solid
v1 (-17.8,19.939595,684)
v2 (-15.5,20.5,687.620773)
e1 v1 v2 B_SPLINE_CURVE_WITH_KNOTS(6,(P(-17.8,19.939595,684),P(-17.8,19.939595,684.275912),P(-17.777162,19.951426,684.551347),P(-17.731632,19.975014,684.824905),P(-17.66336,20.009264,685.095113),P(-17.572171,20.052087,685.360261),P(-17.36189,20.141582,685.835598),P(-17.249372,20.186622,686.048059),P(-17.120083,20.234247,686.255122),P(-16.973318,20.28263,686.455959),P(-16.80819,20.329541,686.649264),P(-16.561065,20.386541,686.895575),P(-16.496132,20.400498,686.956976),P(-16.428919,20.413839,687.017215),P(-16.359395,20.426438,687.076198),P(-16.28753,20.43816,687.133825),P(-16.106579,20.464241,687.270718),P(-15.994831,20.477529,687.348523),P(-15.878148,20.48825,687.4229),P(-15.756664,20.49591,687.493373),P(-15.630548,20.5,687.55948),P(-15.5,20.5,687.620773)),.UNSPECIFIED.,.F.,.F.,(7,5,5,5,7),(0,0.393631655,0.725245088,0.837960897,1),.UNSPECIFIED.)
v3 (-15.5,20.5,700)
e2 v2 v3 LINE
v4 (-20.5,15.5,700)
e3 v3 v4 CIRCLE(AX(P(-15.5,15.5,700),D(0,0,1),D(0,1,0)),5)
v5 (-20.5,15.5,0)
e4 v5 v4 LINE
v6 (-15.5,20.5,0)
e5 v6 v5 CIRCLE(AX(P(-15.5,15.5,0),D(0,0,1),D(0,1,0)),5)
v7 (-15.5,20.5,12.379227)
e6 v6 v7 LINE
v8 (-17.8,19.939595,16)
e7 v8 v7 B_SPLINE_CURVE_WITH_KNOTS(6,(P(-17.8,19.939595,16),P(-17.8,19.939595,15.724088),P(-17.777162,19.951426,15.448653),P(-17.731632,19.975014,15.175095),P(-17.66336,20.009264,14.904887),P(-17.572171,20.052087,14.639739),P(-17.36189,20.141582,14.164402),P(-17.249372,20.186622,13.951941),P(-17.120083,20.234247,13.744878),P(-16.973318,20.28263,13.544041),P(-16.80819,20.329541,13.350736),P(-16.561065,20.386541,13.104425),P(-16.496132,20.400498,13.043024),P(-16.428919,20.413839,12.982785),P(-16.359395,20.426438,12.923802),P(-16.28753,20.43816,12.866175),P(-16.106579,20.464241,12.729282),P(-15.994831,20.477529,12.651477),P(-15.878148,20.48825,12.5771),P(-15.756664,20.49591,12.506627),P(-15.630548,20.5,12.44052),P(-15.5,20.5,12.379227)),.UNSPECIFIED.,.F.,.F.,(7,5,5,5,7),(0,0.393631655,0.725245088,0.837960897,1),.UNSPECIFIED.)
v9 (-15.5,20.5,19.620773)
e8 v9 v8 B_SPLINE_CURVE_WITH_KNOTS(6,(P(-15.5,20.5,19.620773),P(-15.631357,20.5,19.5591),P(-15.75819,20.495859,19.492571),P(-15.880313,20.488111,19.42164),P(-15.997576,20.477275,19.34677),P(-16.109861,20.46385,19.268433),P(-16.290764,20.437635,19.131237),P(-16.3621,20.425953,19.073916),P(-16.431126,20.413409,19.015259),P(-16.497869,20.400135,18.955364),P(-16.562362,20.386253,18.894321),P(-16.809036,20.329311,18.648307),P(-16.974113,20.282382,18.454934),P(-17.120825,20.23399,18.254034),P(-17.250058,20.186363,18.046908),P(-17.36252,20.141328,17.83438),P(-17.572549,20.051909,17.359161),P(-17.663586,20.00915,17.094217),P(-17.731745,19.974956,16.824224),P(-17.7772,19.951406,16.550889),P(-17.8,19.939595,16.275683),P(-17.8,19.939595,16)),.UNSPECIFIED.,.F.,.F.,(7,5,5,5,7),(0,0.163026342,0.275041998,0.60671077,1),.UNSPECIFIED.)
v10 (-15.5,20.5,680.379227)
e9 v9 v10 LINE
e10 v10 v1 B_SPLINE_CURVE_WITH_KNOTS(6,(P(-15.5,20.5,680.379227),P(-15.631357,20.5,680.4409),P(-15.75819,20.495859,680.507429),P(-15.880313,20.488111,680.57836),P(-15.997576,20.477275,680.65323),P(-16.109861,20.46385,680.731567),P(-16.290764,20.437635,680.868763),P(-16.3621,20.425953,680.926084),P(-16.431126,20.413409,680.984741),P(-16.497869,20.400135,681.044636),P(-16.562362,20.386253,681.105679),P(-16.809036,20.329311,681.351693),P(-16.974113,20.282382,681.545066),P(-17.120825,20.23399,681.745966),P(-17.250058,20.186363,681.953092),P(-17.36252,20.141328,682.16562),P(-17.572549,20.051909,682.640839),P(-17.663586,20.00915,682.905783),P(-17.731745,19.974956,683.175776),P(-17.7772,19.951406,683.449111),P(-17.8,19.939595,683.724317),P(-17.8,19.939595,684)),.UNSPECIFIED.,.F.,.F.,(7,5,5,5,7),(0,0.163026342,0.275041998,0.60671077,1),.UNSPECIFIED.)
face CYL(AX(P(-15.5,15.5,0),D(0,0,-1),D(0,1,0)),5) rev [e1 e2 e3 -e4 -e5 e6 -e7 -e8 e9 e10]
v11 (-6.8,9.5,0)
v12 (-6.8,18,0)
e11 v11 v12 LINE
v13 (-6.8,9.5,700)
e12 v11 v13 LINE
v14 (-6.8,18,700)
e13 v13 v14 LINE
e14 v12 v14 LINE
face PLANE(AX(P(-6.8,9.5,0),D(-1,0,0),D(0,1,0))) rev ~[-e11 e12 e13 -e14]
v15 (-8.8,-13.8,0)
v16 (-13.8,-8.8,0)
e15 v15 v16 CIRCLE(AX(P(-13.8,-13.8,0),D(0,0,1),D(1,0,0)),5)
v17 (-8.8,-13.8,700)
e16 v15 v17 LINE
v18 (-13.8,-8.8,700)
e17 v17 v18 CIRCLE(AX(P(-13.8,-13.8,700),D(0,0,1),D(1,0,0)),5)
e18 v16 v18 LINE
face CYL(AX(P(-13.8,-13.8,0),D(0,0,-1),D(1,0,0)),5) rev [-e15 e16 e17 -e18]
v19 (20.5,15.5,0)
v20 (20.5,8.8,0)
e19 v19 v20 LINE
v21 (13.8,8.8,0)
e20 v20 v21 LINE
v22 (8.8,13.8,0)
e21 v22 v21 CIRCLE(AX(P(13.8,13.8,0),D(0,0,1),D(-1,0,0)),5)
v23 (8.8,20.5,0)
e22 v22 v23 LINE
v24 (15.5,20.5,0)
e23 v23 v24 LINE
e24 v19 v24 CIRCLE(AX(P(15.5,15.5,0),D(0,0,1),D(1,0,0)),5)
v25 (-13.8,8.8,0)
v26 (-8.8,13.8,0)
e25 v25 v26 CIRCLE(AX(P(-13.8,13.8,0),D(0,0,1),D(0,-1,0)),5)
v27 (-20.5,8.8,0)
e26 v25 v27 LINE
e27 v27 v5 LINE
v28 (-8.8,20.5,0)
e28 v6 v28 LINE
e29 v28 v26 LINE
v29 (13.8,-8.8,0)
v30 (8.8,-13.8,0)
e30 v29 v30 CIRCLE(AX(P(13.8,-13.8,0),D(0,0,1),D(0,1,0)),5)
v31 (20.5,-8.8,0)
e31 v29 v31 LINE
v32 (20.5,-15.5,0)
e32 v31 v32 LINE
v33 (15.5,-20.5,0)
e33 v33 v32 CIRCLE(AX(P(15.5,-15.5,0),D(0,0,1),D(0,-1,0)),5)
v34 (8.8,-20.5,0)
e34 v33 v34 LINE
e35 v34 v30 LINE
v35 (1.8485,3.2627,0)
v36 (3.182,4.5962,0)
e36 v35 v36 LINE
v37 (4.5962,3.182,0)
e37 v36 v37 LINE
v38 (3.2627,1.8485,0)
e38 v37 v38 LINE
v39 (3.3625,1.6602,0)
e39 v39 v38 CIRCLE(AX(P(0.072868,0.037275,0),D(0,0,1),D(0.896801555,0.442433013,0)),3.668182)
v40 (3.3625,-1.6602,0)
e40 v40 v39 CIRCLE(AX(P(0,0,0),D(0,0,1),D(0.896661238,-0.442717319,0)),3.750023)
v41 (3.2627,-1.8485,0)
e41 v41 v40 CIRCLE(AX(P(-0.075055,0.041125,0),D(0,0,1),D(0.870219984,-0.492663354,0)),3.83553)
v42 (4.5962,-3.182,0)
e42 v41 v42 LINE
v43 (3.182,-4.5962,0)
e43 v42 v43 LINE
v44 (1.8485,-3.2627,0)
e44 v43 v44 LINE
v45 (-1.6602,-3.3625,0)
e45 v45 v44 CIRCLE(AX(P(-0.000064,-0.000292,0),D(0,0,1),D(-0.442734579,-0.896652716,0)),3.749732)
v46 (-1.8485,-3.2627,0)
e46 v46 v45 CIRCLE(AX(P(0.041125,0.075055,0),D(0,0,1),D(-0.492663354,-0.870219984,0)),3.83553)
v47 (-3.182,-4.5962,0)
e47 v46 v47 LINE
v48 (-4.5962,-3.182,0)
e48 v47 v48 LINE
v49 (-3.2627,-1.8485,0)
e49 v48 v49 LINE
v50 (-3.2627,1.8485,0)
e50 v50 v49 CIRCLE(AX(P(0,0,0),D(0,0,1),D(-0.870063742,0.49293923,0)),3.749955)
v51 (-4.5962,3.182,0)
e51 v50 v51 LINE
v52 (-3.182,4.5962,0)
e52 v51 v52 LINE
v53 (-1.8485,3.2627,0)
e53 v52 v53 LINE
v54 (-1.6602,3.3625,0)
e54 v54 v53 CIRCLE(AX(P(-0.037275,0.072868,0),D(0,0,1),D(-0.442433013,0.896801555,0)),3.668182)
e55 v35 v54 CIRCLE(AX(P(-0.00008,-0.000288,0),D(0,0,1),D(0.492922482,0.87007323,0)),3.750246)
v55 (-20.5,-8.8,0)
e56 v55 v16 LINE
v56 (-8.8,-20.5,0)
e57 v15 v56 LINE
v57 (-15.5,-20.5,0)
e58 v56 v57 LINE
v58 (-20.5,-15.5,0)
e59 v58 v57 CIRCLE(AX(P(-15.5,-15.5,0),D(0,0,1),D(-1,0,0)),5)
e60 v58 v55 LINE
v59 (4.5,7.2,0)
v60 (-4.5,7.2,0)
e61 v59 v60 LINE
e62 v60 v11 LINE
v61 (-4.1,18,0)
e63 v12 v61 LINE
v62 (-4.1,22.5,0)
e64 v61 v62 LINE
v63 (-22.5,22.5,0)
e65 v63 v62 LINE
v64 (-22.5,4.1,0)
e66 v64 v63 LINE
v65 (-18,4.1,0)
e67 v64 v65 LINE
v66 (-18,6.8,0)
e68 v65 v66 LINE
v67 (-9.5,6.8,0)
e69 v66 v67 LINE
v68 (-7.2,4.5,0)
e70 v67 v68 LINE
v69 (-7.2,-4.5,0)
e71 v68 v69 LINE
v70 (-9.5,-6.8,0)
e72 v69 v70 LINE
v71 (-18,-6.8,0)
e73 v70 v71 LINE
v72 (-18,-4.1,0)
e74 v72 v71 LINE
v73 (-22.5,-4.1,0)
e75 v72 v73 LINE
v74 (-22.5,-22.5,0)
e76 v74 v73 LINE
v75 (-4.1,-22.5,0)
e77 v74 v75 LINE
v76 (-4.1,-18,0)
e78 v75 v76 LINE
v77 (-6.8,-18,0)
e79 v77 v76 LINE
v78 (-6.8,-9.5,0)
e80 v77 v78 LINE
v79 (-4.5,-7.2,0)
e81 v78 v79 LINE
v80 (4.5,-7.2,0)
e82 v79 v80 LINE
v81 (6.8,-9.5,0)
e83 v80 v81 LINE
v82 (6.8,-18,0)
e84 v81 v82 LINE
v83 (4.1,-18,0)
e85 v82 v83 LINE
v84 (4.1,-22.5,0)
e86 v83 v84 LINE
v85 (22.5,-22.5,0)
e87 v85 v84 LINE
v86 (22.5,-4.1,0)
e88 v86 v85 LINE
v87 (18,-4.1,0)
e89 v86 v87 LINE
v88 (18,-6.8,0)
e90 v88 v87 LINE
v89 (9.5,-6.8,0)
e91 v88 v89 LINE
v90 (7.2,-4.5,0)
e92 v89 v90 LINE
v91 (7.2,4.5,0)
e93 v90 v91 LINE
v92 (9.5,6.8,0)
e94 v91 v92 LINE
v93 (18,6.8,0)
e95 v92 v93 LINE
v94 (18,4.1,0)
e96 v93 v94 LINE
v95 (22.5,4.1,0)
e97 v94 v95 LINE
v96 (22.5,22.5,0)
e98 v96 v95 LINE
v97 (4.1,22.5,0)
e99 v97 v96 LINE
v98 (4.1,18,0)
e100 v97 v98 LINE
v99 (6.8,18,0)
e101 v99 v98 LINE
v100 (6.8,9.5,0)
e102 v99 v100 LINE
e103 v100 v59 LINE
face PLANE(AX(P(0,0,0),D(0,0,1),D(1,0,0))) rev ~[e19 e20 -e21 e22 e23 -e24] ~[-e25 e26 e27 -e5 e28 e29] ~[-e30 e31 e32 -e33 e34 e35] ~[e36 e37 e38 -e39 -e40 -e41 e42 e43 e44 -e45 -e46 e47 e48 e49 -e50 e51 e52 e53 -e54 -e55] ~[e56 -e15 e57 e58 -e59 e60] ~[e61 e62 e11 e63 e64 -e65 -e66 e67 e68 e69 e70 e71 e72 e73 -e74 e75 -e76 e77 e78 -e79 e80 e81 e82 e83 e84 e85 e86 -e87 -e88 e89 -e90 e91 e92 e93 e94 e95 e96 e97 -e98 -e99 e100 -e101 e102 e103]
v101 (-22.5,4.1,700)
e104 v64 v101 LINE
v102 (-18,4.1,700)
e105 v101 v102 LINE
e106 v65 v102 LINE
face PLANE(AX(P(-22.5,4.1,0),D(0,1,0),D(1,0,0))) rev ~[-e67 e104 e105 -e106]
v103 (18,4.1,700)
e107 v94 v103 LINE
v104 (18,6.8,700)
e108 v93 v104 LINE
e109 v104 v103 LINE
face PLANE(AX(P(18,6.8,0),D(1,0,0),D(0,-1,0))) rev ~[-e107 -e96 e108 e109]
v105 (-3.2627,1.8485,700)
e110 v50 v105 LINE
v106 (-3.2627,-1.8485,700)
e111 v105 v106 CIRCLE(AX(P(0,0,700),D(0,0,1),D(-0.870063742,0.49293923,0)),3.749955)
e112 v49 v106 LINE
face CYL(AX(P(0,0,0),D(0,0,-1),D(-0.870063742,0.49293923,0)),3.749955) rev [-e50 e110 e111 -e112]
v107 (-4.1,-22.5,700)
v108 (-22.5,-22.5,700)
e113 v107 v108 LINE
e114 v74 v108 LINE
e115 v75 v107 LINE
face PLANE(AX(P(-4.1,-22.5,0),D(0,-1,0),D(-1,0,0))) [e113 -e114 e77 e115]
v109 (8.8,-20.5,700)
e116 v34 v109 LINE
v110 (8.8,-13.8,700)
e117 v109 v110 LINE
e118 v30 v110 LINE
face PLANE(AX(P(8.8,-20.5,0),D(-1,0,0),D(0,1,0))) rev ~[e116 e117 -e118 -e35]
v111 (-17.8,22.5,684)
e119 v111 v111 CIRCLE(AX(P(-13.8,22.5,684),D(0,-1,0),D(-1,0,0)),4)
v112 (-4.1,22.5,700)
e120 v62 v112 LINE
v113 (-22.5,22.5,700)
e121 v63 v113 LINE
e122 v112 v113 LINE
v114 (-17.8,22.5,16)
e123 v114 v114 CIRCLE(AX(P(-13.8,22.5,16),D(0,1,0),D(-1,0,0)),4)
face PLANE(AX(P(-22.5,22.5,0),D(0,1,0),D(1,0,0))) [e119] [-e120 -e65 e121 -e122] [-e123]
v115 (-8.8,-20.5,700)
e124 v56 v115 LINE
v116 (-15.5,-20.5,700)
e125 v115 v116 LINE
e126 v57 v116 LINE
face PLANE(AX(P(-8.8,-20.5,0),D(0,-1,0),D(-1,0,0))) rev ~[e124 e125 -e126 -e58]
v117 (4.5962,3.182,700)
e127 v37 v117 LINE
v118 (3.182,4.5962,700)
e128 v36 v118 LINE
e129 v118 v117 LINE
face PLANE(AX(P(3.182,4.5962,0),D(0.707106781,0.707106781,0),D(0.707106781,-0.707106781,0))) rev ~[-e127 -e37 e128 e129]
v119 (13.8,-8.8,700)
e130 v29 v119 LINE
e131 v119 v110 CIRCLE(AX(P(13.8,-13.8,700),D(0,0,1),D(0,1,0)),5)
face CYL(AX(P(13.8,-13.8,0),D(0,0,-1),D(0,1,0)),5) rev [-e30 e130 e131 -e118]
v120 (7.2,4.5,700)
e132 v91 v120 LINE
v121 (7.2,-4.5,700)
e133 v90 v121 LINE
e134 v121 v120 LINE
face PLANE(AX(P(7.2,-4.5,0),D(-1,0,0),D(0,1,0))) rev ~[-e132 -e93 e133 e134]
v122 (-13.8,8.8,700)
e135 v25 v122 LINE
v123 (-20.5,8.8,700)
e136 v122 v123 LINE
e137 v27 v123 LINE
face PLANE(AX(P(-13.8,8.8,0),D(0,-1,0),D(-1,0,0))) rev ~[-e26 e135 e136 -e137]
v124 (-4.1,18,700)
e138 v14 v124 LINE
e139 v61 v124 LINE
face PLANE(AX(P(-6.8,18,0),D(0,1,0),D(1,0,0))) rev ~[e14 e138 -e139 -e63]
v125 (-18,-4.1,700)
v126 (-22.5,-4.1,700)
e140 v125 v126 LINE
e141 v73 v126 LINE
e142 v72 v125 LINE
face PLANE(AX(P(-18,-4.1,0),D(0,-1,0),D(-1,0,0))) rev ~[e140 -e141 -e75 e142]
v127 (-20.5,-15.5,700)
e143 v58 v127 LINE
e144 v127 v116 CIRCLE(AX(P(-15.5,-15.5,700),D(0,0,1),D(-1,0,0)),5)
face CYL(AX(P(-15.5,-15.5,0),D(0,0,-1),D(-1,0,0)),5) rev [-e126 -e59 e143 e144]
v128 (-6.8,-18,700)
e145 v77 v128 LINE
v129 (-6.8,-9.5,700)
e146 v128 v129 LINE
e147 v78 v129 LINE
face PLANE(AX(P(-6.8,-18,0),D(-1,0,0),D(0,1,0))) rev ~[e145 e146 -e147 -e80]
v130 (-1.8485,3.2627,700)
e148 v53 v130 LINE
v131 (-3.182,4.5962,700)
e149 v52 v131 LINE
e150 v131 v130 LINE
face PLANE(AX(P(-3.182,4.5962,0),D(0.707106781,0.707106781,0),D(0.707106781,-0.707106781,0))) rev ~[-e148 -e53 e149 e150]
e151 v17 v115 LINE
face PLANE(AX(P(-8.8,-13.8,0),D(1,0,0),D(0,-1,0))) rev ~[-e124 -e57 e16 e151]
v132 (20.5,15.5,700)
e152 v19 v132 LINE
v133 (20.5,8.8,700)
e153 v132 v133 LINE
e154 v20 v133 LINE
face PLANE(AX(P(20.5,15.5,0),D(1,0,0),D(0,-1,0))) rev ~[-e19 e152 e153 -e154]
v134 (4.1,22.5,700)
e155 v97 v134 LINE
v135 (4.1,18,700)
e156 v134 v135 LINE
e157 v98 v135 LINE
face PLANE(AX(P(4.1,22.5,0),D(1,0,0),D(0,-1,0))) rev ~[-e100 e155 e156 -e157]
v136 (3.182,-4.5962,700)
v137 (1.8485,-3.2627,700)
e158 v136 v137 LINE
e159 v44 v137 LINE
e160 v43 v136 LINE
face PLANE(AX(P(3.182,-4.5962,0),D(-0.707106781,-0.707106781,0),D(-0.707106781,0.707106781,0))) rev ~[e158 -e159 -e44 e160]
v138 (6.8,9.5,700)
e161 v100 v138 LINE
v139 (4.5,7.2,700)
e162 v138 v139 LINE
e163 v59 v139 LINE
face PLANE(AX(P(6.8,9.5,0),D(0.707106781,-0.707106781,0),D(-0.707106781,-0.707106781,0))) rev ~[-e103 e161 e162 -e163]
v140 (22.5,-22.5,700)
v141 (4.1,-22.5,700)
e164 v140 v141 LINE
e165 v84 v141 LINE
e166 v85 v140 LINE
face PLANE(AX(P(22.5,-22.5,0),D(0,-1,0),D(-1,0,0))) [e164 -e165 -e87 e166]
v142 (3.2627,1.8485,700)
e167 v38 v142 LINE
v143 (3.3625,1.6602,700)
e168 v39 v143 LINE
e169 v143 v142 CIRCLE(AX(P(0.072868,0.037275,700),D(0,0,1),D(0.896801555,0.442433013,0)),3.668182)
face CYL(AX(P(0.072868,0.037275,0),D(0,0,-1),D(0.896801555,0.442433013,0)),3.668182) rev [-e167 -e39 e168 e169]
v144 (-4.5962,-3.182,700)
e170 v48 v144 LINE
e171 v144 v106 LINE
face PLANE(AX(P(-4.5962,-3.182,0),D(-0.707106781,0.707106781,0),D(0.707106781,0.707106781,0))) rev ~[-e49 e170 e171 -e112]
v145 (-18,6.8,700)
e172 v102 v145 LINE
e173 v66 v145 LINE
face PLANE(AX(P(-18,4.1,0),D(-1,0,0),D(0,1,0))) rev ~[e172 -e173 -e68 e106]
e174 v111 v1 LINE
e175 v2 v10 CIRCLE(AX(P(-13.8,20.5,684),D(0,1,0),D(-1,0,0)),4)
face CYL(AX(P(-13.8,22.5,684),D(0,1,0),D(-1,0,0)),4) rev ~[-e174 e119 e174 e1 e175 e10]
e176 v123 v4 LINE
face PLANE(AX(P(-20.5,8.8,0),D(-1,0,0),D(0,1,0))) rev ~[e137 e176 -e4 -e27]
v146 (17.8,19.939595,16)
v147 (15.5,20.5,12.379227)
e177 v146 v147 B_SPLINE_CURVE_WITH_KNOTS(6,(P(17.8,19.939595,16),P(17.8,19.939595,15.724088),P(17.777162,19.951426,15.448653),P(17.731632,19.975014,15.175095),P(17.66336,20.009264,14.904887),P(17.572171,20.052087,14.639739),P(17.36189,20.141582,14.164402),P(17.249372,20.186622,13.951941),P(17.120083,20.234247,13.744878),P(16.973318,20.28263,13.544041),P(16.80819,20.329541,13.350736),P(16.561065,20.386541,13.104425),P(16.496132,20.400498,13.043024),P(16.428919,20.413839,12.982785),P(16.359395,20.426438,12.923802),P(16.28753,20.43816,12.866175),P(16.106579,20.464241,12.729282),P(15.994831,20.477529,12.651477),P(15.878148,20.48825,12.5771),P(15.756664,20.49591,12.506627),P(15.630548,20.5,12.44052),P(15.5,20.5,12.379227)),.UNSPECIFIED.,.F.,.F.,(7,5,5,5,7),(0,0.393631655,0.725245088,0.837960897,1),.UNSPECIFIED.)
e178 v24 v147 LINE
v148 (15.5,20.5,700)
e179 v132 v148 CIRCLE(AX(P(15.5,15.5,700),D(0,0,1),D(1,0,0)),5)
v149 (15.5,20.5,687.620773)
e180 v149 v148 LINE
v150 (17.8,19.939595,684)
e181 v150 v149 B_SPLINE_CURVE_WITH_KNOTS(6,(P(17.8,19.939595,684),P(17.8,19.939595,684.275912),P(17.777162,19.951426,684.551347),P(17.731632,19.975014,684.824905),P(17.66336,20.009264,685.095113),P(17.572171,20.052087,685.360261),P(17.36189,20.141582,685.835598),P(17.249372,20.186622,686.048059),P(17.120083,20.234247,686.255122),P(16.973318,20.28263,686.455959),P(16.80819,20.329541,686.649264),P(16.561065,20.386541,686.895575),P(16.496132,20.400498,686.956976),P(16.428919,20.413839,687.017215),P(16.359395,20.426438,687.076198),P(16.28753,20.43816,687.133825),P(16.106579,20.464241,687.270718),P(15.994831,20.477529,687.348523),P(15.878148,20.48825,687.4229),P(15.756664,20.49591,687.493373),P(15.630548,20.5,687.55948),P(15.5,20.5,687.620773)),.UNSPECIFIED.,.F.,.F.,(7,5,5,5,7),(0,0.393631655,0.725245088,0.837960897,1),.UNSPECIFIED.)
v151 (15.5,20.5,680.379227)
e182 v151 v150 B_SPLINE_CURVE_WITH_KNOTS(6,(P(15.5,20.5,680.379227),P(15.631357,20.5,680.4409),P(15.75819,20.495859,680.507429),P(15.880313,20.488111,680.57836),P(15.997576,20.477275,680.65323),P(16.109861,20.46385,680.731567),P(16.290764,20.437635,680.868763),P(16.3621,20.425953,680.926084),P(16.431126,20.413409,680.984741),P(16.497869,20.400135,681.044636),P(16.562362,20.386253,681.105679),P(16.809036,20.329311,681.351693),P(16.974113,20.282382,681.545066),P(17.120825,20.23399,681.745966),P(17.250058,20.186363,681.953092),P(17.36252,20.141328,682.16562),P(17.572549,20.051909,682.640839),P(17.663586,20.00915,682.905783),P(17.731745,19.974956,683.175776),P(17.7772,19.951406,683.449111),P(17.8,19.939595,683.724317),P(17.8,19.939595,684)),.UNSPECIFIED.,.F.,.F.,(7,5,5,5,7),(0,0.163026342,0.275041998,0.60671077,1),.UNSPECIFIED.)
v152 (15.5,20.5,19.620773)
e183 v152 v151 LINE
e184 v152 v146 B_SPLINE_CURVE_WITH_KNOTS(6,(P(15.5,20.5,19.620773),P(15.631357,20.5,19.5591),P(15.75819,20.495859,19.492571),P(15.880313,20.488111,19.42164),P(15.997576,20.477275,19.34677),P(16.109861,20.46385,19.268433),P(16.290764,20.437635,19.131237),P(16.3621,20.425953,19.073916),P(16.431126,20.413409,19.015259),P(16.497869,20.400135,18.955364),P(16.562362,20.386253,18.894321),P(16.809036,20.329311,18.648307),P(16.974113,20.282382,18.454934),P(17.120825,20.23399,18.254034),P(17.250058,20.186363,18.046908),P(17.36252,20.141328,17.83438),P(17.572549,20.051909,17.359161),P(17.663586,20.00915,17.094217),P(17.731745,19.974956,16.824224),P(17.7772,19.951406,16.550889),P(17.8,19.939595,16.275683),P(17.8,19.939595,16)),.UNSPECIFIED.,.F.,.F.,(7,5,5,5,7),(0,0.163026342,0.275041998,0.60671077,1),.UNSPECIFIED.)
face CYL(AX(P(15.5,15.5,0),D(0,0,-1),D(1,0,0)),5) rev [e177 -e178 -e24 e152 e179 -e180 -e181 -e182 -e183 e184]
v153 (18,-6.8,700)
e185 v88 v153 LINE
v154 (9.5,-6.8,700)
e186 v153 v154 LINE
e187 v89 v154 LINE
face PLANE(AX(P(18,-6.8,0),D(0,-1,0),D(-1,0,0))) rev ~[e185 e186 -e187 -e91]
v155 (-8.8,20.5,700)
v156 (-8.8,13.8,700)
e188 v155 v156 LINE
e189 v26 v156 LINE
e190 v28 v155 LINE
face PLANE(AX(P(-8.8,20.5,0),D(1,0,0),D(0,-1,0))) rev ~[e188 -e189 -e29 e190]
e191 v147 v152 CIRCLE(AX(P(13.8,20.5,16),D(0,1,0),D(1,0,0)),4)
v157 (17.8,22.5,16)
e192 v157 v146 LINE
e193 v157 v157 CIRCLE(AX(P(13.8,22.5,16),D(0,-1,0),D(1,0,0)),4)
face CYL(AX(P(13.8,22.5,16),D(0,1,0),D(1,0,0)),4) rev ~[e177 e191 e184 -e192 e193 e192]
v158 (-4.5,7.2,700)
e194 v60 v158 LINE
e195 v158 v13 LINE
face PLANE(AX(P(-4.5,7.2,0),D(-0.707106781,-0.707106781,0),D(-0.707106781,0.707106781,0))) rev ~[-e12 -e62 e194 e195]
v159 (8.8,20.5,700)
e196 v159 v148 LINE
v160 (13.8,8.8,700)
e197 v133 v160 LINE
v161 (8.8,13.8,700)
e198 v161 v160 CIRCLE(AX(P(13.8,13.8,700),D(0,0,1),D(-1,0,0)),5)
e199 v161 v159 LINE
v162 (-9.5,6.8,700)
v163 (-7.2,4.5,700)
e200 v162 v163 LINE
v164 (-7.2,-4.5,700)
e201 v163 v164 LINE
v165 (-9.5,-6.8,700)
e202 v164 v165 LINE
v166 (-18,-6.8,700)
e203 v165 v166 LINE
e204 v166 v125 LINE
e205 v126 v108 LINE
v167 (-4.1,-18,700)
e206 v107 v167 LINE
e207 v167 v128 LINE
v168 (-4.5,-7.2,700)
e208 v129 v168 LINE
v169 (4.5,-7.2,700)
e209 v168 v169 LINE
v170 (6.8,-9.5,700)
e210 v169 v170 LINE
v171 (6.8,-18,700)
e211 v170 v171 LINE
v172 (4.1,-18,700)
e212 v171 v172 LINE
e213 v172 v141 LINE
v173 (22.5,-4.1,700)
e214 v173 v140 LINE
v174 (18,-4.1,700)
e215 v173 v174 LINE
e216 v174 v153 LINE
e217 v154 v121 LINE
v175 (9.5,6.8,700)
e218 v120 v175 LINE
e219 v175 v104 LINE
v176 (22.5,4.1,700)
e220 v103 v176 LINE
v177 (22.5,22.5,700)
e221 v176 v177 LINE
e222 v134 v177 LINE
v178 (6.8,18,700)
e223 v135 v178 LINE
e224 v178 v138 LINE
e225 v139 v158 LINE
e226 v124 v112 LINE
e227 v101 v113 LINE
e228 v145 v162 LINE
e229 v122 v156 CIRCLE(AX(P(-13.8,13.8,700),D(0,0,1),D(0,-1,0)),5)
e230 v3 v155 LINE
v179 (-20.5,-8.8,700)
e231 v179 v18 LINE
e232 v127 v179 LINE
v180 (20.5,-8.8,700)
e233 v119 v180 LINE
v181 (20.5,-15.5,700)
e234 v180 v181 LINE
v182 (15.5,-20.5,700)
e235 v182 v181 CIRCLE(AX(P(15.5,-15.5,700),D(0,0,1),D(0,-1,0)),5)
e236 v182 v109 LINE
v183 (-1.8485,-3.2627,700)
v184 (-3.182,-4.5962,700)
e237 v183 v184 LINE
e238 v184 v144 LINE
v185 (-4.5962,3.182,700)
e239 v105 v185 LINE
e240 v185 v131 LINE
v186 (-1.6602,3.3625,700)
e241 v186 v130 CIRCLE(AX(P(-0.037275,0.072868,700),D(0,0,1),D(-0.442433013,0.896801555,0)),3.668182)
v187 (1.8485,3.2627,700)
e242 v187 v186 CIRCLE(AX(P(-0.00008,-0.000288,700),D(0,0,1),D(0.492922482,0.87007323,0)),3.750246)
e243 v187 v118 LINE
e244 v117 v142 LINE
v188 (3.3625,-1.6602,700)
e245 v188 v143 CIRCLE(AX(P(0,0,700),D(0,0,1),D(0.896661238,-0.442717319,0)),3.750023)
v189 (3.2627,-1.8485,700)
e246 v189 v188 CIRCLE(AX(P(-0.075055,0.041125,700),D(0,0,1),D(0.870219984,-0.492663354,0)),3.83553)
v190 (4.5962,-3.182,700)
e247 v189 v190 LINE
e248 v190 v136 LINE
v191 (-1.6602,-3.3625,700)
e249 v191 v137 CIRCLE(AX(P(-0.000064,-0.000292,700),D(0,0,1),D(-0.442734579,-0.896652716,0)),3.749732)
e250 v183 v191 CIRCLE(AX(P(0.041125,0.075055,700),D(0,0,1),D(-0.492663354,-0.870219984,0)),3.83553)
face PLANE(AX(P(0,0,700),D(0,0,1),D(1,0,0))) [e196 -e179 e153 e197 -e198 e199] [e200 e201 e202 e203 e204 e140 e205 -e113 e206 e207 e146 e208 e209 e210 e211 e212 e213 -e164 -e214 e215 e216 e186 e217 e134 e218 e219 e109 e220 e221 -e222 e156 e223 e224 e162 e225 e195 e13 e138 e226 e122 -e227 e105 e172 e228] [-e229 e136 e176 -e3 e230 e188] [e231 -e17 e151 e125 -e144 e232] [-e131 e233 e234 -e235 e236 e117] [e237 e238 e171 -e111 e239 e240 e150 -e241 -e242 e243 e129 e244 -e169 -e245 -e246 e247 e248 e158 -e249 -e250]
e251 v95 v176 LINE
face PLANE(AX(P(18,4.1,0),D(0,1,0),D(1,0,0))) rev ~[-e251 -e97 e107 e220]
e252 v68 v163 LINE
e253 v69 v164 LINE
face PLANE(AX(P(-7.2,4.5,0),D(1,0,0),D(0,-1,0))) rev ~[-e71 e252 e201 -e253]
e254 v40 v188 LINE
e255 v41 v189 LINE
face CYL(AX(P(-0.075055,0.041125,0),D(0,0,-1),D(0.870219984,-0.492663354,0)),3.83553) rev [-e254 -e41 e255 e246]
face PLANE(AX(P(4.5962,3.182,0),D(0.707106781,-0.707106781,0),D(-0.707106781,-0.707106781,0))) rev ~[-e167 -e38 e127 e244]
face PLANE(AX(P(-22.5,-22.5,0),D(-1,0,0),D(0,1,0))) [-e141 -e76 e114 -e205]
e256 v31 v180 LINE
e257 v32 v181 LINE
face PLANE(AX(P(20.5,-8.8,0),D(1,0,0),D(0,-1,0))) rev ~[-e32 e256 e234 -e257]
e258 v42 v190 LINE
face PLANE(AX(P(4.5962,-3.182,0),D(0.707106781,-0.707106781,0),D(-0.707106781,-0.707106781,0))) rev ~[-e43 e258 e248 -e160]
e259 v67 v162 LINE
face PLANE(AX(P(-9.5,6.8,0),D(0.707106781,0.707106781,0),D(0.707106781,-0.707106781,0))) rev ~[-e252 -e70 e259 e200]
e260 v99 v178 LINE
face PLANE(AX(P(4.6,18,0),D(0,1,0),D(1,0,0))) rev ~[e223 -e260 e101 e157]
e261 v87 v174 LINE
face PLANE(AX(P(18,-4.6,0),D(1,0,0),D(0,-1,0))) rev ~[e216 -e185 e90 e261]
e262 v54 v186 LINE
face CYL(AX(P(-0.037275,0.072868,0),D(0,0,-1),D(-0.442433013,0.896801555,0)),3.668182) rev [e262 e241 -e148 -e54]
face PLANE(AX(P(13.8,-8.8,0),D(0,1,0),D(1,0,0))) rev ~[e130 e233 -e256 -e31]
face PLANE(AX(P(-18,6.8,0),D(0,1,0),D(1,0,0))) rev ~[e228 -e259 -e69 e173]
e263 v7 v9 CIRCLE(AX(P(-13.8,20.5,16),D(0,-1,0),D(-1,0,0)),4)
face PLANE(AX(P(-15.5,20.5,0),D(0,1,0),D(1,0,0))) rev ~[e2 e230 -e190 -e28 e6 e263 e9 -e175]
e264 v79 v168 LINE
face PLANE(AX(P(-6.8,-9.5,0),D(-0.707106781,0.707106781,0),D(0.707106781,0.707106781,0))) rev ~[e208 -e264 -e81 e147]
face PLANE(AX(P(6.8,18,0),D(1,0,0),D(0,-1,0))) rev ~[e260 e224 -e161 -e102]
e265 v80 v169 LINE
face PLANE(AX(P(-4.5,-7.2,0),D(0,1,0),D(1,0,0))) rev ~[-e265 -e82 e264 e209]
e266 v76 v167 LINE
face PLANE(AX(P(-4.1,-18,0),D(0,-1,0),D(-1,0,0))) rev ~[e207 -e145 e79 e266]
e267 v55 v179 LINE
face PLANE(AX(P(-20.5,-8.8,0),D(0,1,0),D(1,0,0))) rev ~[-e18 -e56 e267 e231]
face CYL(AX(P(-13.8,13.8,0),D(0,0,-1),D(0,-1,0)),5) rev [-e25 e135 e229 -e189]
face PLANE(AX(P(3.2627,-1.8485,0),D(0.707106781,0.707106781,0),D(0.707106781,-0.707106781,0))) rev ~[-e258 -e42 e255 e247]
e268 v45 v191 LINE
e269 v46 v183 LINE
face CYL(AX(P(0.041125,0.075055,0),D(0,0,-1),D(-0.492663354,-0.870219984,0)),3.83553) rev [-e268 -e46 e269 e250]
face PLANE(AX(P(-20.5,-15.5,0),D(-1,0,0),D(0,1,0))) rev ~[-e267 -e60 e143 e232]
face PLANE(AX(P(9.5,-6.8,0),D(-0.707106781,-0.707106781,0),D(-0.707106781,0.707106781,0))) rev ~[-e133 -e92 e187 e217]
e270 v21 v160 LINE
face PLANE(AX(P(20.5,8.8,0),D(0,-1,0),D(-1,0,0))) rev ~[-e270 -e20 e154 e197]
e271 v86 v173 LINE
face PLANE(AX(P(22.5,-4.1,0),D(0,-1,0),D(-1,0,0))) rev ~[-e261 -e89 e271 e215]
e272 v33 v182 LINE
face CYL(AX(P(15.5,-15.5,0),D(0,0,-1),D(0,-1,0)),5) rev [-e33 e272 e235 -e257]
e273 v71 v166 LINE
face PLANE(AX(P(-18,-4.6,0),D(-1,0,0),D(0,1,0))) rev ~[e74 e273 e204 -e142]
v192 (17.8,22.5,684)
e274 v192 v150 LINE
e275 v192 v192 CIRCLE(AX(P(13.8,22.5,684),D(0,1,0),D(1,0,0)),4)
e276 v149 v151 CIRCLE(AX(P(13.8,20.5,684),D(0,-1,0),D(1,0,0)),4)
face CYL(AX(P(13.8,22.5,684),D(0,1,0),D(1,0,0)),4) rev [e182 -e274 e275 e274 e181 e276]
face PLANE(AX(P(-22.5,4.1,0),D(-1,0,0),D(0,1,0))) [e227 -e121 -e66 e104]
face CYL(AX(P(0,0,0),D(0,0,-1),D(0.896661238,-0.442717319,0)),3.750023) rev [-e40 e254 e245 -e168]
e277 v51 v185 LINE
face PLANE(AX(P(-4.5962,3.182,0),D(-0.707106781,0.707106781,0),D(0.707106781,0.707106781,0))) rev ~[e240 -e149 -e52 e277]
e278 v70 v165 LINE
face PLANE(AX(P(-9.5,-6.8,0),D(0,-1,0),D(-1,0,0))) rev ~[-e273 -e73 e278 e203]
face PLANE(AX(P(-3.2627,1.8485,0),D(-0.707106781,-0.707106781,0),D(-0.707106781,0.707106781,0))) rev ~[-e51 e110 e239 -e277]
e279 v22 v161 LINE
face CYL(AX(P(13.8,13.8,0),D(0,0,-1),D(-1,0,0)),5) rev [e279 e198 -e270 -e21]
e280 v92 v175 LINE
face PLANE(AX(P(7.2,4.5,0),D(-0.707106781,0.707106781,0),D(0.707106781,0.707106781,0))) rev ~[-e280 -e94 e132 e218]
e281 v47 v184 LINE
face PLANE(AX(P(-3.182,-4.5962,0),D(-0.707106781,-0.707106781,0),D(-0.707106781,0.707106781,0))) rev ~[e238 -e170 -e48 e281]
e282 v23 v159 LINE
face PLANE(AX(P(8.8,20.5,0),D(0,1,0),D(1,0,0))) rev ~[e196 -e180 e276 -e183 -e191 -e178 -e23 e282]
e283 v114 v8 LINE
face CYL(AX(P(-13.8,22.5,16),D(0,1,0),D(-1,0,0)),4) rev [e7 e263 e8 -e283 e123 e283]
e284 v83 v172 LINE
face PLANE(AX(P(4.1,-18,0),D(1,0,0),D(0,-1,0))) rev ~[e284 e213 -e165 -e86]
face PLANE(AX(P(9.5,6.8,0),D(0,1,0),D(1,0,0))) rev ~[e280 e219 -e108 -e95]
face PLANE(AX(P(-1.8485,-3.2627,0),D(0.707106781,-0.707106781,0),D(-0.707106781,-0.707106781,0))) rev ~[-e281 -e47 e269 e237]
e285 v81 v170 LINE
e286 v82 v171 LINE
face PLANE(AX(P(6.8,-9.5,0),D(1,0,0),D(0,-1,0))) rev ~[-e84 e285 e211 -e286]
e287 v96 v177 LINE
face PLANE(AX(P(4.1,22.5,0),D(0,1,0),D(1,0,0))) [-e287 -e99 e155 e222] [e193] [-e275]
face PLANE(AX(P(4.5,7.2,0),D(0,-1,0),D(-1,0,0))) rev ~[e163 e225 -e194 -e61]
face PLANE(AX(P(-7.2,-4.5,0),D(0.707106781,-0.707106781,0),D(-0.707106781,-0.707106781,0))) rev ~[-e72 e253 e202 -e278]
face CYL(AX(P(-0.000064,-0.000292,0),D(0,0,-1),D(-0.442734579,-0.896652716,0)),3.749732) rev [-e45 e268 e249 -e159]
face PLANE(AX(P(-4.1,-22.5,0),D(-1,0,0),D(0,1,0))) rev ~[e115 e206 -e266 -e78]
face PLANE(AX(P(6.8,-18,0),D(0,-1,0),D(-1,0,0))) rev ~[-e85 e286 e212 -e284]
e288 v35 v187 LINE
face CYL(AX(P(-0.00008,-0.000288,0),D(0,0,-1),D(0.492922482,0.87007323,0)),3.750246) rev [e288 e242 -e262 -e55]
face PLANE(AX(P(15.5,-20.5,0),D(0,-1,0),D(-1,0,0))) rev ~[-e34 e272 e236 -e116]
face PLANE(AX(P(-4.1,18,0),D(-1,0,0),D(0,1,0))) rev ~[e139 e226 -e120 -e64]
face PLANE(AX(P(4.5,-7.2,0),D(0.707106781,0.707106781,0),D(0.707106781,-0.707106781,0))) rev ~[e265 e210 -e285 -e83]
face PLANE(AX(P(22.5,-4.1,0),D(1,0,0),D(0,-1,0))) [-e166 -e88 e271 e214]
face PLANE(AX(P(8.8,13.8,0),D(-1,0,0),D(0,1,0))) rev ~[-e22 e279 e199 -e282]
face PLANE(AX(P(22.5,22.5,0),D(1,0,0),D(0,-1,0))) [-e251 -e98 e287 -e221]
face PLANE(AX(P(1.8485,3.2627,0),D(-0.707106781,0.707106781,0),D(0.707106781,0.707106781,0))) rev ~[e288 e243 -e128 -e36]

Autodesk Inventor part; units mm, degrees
ref_plane "YZ Plane" through (0, 0, 0) normal (1, 0, 0) x (0, 1, 0)
sketch "Sketch1" plane through (0, 0, 0) normal (0, 0, 1) x (1, 0, 0)
  line L0 (-4.1, -22.5) -> (-4.1, -18)
  line L1 (-4.6, -18) -> (-6.8, -18)
  line L2 (-6.8, -18) -> (-6.8, -9.5)
  line L3 (-6.8, -9.5) -> (-4.5, -7.2)
  line L4 (-4.5, -7.2) -> (4.5, -7.2)
  line L5 (4.5, -7.2) -> (6.8, -9.5)
  line L6 (6.8, -9.5) -> (6.8, -18)
  line L7 (4.1, -18) -> (4.1, -22.5)
  line L8 (22.5, -4.1) -> (18, -4.1)
  line L9 (18, -4.6) -> (18, -6.8)
  line L10 (18, -6.8) -> (9.5, -6.8)
  line L11 (9.5, -6.8) -> (7.2, -4.5)
  line L12 (7.2, -4.5) -> (7.2, 4.5)
  line L13 (7.2, 4.5) -> (9.5, 6.8)
  line L14 (9.5, 6.8) -> (18, 6.8)
  line L15 (18, 4.1) -> (22.5, 4.1)
  line L16 (22.5, 22.5) -> (22.5, 4.4)
  line L17 (4.1, 22.5) -> (4.1, 18)
  line L18 (4.6, 18) -> (6.8, 18)
  line L19 (6.8, 18) -> (6.8, 9.5)
  line L20 (6.8, 9.5) -> (4.5, 7.2)
  line L21 (4.5, 7.2) -> (-4.5, 7.2)
  line L22 (-4.5, 7.2) -> (-6.8, 9.5)
  line L23 (-6.8, 9.5) -> (-6.8, 18)
  line L24 (-4.1, 18) -> (-4.1, 22.5)
  line L25 (-22.5, 22.5) -> (-4.4, 22.5)
  line L26 (-22.5, 4.1) -> (-18, 4.1)
  line L27 (-18, 6.8) -> (-9.5, 6.8)
  line L28 (-9.5, 6.8) -> (-7.2, 4.5)
  line L29 (-7.2, 4.5) -> (-7.2, -4.5)
  line L30 (-7.2, -4.5) -> (-9.5, -6.8)
  line L31 (-9.5, -6.8) -> (-18, -6.8)
  line L32 (-18, -6.8) -> (-18, -4.6)
  line L33 (-18, -4.1) -> (-22.5, -4.1)
  line L34 (-22.5, -22.5) -> (-22.5, -4.4)
  line L35 (-4.4, -22.5) -> (-22.5, -22.5)
  line L36 (-4.5962, -3.182) -> (-3.2627, -1.8485)
  line L37 (-3.2627, 1.8485) -> (-4.5962, 3.182)
  line L38 (-4.5962, 3.182) -> (-3.182, 4.5962)
  line L39 (-3.182, 4.5962) -> (-1.8485, 3.2627)
  line L40 (1.8485, 3.2627) -> (3.182, 4.5962)
  line L41 (3.182, 4.5962) -> (4.5962, 3.182)
  line L42 (4.5962, 3.182) -> (3.2627, 1.8485)
  arc A0 (3.3625, -1.6602) -> (3.3625, 1.6602) centre (0, 0) ccw
  line L43 (3.2627, -1.8485) -> (4.5962, -3.182)
  line L44 (4.5962, -3.182) -> (3.182, -4.5962)
  line L45 (3.182, -4.5962) -> (1.8485, -3.2627)
  line L46 (-1.8485, -3.2627) -> (-3.182, -4.5962)
  line L47 (-3.182, -4.5962) -> (-4.5962, -3.182)
  arc A1 (13.8, -8.8) -> (8.8, -13.8) centre (13.8, -13.8) ccw
  line L48 (13.8, -8.8) -> (20.5, -8.8)
  line L49 (20.5, -8.8) -> (20.5, -15.5)
  arc A2 (15.5, -20.5) -> (20.5, -15.5) centre (15.5, -15.5) ccw
  line L50 (15.5, -20.5) -> (8.8, -20.5)
  line L51 (8.8, -20.5) -> (8.8, -13.8)
  arc A3 (8.8, 13.8) -> (13.8, 8.8) centre (13.8, 13.8) ccw
  line L52 (8.8, 13.8) -> (8.8, 20.5)
  line L53 (8.8, 20.5) -> (15.5, 20.5)
  arc A4 (20.5, 15.5) -> (15.5, 20.5) centre (15.5, 15.5) ccw
  line L54 (20.5, 15.5) -> (20.5, 8.8)
  line L55 (20.5, 8.8) -> (13.8, 8.8)
  arc A5 (-13.8, 8.8) -> (-8.8, 13.8) centre (-13.8, 13.8) ccw
  line L56 (-13.8, 8.8) -> (-20.5, 8.8)
  line L57 (-20.5, 8.8) -> (-20.5, 15.5)
  arc A6 (-15.5, 20.5) -> (-20.5, 15.5) centre (-15.5, 15.5) ccw
  line L58 (-15.5, 20.5) -> (-8.8, 20.5)
  line L59 (-8.8, 20.5) -> (-8.8, 13.8)
  arc A7 (-8.8, -13.8) -> (-13.8, -8.8) centre (-13.8, -13.8) ccw
  line L60 (-8.8, -13.8) -> (-8.8, -20.5)
  line L61 (-8.8, -20.5) -> (-15.5, -20.5)
  arc A8 (-20.5, -15.5) -> (-15.5, -20.5) centre (-15.5, -15.5) ccw
  line L62 (-20.5, -15.5) -> (-20.5, -8.8)
  line L63 (-20.5, -8.8) -> (-13.8, -8.8)
  line L64 (-6.8, 18) -> (-4.1, 18)
  line L65 (4.1, 18) -> (4.6, 18)
  line L66 (-4.4, 22.5) -> (-4.1, 22.5)
  line L67 (4.1, 22.5) -> (22.5, 22.5)
  arc A9 (3.3625, 1.6602) -> (3.2627, 1.8485) centre (0, 0) ccw
  arc A10 (1.8485, 3.2627) -> (-1.6602, 3.3625) centre (0, 0) ccw
  arc A11 (-1.6602, 3.3625) -> (-1.8485, 3.2627) centre (0, 0) ccw
  arc A12 (-3.2627, 1.8485) -> (-3.2627, -1.8485) centre (0, 0) ccw
  arc A13 (-1.8485, -3.2627) -> (-1.6602, -3.3625) centre (0, 0) ccw
  arc A14 (-1.6602, -3.3625) -> (1.8485, -3.2627) centre (0, 0) ccw
  arc A15 (3.2627, -1.8485) -> (3.3625, -1.6602) centre (0, 0) ccw
  line L68 (18, 6.8) -> (18, 4.1)
  line L69 (18, -4.1) -> (18, -4.6)
  line L70 (22.5, 4.4) -> (22.5, 4.1)
  line L71 (22.5, -4.1) -> (22.5, -22.5)
  line L72 (6.8, -18) -> (4.1, -18)
  line L73 (-4.1, -18) -> (-4.6, -18)
  line L74 (22.5, -22.5) -> (4.1, -22.5)
  line L75 (-4.1, -22.5) -> (-4.4, -22.5)
  line L76 (-22.5, -4.4) -> (-22.5, -4.1)
  line L77 (-22.5, 4.1) -> (-22.5, 22.5)
  line L78 (-18, -4.6) -> (-18, -4.1)
  line L79 (-18, 4.1) -> (-18, 6.8)
extrude "Extrusion1" add sketch "Sketch1" along normal blind 700
sketch "Sketch2" plane through (4.1, 22.5, 700) normal (0, 1, 0) x (1, 0, 0)
  line L0 (18.4, 700) -> (18.4, 0) projected
  line L1 (0, 700) -> (18.4, 700) projected
  line L2 (9.7, 700) -> (9.7, 0) projected
  circle A0 centre (9.7, 684) radius 4
  point P0 (-4.1, 700)
  dimension "d2" = 8
  dimension "d3" = 16
  dimension "d4" = 18.4
  dimension "d20" = 8.7
extrude "Extrusion2" cut sketch "Sketch2" against normal up to next
ref_plane "Work Plane1" through (0, 0, 350) normal (0, 0, -1) x (-1, 0, 0)
ref_plane "Work Plane2" through (0, 22.5, 700) normal (1, 0, 0) x (0, 0, -1)
mirror "Mirror2" about plane through (0, 22.5, 700) normal (1, 0, 0) of "Extrusion2"
mirror "Mirror3" about plane through (0, 0, 350) normal (0, 0, -1) of "Extrusion2", "Mirror2"
equation "\"d3\" = 2 * d2"
properties part number "ElevatorTrack" material "Aluminum-6061"
